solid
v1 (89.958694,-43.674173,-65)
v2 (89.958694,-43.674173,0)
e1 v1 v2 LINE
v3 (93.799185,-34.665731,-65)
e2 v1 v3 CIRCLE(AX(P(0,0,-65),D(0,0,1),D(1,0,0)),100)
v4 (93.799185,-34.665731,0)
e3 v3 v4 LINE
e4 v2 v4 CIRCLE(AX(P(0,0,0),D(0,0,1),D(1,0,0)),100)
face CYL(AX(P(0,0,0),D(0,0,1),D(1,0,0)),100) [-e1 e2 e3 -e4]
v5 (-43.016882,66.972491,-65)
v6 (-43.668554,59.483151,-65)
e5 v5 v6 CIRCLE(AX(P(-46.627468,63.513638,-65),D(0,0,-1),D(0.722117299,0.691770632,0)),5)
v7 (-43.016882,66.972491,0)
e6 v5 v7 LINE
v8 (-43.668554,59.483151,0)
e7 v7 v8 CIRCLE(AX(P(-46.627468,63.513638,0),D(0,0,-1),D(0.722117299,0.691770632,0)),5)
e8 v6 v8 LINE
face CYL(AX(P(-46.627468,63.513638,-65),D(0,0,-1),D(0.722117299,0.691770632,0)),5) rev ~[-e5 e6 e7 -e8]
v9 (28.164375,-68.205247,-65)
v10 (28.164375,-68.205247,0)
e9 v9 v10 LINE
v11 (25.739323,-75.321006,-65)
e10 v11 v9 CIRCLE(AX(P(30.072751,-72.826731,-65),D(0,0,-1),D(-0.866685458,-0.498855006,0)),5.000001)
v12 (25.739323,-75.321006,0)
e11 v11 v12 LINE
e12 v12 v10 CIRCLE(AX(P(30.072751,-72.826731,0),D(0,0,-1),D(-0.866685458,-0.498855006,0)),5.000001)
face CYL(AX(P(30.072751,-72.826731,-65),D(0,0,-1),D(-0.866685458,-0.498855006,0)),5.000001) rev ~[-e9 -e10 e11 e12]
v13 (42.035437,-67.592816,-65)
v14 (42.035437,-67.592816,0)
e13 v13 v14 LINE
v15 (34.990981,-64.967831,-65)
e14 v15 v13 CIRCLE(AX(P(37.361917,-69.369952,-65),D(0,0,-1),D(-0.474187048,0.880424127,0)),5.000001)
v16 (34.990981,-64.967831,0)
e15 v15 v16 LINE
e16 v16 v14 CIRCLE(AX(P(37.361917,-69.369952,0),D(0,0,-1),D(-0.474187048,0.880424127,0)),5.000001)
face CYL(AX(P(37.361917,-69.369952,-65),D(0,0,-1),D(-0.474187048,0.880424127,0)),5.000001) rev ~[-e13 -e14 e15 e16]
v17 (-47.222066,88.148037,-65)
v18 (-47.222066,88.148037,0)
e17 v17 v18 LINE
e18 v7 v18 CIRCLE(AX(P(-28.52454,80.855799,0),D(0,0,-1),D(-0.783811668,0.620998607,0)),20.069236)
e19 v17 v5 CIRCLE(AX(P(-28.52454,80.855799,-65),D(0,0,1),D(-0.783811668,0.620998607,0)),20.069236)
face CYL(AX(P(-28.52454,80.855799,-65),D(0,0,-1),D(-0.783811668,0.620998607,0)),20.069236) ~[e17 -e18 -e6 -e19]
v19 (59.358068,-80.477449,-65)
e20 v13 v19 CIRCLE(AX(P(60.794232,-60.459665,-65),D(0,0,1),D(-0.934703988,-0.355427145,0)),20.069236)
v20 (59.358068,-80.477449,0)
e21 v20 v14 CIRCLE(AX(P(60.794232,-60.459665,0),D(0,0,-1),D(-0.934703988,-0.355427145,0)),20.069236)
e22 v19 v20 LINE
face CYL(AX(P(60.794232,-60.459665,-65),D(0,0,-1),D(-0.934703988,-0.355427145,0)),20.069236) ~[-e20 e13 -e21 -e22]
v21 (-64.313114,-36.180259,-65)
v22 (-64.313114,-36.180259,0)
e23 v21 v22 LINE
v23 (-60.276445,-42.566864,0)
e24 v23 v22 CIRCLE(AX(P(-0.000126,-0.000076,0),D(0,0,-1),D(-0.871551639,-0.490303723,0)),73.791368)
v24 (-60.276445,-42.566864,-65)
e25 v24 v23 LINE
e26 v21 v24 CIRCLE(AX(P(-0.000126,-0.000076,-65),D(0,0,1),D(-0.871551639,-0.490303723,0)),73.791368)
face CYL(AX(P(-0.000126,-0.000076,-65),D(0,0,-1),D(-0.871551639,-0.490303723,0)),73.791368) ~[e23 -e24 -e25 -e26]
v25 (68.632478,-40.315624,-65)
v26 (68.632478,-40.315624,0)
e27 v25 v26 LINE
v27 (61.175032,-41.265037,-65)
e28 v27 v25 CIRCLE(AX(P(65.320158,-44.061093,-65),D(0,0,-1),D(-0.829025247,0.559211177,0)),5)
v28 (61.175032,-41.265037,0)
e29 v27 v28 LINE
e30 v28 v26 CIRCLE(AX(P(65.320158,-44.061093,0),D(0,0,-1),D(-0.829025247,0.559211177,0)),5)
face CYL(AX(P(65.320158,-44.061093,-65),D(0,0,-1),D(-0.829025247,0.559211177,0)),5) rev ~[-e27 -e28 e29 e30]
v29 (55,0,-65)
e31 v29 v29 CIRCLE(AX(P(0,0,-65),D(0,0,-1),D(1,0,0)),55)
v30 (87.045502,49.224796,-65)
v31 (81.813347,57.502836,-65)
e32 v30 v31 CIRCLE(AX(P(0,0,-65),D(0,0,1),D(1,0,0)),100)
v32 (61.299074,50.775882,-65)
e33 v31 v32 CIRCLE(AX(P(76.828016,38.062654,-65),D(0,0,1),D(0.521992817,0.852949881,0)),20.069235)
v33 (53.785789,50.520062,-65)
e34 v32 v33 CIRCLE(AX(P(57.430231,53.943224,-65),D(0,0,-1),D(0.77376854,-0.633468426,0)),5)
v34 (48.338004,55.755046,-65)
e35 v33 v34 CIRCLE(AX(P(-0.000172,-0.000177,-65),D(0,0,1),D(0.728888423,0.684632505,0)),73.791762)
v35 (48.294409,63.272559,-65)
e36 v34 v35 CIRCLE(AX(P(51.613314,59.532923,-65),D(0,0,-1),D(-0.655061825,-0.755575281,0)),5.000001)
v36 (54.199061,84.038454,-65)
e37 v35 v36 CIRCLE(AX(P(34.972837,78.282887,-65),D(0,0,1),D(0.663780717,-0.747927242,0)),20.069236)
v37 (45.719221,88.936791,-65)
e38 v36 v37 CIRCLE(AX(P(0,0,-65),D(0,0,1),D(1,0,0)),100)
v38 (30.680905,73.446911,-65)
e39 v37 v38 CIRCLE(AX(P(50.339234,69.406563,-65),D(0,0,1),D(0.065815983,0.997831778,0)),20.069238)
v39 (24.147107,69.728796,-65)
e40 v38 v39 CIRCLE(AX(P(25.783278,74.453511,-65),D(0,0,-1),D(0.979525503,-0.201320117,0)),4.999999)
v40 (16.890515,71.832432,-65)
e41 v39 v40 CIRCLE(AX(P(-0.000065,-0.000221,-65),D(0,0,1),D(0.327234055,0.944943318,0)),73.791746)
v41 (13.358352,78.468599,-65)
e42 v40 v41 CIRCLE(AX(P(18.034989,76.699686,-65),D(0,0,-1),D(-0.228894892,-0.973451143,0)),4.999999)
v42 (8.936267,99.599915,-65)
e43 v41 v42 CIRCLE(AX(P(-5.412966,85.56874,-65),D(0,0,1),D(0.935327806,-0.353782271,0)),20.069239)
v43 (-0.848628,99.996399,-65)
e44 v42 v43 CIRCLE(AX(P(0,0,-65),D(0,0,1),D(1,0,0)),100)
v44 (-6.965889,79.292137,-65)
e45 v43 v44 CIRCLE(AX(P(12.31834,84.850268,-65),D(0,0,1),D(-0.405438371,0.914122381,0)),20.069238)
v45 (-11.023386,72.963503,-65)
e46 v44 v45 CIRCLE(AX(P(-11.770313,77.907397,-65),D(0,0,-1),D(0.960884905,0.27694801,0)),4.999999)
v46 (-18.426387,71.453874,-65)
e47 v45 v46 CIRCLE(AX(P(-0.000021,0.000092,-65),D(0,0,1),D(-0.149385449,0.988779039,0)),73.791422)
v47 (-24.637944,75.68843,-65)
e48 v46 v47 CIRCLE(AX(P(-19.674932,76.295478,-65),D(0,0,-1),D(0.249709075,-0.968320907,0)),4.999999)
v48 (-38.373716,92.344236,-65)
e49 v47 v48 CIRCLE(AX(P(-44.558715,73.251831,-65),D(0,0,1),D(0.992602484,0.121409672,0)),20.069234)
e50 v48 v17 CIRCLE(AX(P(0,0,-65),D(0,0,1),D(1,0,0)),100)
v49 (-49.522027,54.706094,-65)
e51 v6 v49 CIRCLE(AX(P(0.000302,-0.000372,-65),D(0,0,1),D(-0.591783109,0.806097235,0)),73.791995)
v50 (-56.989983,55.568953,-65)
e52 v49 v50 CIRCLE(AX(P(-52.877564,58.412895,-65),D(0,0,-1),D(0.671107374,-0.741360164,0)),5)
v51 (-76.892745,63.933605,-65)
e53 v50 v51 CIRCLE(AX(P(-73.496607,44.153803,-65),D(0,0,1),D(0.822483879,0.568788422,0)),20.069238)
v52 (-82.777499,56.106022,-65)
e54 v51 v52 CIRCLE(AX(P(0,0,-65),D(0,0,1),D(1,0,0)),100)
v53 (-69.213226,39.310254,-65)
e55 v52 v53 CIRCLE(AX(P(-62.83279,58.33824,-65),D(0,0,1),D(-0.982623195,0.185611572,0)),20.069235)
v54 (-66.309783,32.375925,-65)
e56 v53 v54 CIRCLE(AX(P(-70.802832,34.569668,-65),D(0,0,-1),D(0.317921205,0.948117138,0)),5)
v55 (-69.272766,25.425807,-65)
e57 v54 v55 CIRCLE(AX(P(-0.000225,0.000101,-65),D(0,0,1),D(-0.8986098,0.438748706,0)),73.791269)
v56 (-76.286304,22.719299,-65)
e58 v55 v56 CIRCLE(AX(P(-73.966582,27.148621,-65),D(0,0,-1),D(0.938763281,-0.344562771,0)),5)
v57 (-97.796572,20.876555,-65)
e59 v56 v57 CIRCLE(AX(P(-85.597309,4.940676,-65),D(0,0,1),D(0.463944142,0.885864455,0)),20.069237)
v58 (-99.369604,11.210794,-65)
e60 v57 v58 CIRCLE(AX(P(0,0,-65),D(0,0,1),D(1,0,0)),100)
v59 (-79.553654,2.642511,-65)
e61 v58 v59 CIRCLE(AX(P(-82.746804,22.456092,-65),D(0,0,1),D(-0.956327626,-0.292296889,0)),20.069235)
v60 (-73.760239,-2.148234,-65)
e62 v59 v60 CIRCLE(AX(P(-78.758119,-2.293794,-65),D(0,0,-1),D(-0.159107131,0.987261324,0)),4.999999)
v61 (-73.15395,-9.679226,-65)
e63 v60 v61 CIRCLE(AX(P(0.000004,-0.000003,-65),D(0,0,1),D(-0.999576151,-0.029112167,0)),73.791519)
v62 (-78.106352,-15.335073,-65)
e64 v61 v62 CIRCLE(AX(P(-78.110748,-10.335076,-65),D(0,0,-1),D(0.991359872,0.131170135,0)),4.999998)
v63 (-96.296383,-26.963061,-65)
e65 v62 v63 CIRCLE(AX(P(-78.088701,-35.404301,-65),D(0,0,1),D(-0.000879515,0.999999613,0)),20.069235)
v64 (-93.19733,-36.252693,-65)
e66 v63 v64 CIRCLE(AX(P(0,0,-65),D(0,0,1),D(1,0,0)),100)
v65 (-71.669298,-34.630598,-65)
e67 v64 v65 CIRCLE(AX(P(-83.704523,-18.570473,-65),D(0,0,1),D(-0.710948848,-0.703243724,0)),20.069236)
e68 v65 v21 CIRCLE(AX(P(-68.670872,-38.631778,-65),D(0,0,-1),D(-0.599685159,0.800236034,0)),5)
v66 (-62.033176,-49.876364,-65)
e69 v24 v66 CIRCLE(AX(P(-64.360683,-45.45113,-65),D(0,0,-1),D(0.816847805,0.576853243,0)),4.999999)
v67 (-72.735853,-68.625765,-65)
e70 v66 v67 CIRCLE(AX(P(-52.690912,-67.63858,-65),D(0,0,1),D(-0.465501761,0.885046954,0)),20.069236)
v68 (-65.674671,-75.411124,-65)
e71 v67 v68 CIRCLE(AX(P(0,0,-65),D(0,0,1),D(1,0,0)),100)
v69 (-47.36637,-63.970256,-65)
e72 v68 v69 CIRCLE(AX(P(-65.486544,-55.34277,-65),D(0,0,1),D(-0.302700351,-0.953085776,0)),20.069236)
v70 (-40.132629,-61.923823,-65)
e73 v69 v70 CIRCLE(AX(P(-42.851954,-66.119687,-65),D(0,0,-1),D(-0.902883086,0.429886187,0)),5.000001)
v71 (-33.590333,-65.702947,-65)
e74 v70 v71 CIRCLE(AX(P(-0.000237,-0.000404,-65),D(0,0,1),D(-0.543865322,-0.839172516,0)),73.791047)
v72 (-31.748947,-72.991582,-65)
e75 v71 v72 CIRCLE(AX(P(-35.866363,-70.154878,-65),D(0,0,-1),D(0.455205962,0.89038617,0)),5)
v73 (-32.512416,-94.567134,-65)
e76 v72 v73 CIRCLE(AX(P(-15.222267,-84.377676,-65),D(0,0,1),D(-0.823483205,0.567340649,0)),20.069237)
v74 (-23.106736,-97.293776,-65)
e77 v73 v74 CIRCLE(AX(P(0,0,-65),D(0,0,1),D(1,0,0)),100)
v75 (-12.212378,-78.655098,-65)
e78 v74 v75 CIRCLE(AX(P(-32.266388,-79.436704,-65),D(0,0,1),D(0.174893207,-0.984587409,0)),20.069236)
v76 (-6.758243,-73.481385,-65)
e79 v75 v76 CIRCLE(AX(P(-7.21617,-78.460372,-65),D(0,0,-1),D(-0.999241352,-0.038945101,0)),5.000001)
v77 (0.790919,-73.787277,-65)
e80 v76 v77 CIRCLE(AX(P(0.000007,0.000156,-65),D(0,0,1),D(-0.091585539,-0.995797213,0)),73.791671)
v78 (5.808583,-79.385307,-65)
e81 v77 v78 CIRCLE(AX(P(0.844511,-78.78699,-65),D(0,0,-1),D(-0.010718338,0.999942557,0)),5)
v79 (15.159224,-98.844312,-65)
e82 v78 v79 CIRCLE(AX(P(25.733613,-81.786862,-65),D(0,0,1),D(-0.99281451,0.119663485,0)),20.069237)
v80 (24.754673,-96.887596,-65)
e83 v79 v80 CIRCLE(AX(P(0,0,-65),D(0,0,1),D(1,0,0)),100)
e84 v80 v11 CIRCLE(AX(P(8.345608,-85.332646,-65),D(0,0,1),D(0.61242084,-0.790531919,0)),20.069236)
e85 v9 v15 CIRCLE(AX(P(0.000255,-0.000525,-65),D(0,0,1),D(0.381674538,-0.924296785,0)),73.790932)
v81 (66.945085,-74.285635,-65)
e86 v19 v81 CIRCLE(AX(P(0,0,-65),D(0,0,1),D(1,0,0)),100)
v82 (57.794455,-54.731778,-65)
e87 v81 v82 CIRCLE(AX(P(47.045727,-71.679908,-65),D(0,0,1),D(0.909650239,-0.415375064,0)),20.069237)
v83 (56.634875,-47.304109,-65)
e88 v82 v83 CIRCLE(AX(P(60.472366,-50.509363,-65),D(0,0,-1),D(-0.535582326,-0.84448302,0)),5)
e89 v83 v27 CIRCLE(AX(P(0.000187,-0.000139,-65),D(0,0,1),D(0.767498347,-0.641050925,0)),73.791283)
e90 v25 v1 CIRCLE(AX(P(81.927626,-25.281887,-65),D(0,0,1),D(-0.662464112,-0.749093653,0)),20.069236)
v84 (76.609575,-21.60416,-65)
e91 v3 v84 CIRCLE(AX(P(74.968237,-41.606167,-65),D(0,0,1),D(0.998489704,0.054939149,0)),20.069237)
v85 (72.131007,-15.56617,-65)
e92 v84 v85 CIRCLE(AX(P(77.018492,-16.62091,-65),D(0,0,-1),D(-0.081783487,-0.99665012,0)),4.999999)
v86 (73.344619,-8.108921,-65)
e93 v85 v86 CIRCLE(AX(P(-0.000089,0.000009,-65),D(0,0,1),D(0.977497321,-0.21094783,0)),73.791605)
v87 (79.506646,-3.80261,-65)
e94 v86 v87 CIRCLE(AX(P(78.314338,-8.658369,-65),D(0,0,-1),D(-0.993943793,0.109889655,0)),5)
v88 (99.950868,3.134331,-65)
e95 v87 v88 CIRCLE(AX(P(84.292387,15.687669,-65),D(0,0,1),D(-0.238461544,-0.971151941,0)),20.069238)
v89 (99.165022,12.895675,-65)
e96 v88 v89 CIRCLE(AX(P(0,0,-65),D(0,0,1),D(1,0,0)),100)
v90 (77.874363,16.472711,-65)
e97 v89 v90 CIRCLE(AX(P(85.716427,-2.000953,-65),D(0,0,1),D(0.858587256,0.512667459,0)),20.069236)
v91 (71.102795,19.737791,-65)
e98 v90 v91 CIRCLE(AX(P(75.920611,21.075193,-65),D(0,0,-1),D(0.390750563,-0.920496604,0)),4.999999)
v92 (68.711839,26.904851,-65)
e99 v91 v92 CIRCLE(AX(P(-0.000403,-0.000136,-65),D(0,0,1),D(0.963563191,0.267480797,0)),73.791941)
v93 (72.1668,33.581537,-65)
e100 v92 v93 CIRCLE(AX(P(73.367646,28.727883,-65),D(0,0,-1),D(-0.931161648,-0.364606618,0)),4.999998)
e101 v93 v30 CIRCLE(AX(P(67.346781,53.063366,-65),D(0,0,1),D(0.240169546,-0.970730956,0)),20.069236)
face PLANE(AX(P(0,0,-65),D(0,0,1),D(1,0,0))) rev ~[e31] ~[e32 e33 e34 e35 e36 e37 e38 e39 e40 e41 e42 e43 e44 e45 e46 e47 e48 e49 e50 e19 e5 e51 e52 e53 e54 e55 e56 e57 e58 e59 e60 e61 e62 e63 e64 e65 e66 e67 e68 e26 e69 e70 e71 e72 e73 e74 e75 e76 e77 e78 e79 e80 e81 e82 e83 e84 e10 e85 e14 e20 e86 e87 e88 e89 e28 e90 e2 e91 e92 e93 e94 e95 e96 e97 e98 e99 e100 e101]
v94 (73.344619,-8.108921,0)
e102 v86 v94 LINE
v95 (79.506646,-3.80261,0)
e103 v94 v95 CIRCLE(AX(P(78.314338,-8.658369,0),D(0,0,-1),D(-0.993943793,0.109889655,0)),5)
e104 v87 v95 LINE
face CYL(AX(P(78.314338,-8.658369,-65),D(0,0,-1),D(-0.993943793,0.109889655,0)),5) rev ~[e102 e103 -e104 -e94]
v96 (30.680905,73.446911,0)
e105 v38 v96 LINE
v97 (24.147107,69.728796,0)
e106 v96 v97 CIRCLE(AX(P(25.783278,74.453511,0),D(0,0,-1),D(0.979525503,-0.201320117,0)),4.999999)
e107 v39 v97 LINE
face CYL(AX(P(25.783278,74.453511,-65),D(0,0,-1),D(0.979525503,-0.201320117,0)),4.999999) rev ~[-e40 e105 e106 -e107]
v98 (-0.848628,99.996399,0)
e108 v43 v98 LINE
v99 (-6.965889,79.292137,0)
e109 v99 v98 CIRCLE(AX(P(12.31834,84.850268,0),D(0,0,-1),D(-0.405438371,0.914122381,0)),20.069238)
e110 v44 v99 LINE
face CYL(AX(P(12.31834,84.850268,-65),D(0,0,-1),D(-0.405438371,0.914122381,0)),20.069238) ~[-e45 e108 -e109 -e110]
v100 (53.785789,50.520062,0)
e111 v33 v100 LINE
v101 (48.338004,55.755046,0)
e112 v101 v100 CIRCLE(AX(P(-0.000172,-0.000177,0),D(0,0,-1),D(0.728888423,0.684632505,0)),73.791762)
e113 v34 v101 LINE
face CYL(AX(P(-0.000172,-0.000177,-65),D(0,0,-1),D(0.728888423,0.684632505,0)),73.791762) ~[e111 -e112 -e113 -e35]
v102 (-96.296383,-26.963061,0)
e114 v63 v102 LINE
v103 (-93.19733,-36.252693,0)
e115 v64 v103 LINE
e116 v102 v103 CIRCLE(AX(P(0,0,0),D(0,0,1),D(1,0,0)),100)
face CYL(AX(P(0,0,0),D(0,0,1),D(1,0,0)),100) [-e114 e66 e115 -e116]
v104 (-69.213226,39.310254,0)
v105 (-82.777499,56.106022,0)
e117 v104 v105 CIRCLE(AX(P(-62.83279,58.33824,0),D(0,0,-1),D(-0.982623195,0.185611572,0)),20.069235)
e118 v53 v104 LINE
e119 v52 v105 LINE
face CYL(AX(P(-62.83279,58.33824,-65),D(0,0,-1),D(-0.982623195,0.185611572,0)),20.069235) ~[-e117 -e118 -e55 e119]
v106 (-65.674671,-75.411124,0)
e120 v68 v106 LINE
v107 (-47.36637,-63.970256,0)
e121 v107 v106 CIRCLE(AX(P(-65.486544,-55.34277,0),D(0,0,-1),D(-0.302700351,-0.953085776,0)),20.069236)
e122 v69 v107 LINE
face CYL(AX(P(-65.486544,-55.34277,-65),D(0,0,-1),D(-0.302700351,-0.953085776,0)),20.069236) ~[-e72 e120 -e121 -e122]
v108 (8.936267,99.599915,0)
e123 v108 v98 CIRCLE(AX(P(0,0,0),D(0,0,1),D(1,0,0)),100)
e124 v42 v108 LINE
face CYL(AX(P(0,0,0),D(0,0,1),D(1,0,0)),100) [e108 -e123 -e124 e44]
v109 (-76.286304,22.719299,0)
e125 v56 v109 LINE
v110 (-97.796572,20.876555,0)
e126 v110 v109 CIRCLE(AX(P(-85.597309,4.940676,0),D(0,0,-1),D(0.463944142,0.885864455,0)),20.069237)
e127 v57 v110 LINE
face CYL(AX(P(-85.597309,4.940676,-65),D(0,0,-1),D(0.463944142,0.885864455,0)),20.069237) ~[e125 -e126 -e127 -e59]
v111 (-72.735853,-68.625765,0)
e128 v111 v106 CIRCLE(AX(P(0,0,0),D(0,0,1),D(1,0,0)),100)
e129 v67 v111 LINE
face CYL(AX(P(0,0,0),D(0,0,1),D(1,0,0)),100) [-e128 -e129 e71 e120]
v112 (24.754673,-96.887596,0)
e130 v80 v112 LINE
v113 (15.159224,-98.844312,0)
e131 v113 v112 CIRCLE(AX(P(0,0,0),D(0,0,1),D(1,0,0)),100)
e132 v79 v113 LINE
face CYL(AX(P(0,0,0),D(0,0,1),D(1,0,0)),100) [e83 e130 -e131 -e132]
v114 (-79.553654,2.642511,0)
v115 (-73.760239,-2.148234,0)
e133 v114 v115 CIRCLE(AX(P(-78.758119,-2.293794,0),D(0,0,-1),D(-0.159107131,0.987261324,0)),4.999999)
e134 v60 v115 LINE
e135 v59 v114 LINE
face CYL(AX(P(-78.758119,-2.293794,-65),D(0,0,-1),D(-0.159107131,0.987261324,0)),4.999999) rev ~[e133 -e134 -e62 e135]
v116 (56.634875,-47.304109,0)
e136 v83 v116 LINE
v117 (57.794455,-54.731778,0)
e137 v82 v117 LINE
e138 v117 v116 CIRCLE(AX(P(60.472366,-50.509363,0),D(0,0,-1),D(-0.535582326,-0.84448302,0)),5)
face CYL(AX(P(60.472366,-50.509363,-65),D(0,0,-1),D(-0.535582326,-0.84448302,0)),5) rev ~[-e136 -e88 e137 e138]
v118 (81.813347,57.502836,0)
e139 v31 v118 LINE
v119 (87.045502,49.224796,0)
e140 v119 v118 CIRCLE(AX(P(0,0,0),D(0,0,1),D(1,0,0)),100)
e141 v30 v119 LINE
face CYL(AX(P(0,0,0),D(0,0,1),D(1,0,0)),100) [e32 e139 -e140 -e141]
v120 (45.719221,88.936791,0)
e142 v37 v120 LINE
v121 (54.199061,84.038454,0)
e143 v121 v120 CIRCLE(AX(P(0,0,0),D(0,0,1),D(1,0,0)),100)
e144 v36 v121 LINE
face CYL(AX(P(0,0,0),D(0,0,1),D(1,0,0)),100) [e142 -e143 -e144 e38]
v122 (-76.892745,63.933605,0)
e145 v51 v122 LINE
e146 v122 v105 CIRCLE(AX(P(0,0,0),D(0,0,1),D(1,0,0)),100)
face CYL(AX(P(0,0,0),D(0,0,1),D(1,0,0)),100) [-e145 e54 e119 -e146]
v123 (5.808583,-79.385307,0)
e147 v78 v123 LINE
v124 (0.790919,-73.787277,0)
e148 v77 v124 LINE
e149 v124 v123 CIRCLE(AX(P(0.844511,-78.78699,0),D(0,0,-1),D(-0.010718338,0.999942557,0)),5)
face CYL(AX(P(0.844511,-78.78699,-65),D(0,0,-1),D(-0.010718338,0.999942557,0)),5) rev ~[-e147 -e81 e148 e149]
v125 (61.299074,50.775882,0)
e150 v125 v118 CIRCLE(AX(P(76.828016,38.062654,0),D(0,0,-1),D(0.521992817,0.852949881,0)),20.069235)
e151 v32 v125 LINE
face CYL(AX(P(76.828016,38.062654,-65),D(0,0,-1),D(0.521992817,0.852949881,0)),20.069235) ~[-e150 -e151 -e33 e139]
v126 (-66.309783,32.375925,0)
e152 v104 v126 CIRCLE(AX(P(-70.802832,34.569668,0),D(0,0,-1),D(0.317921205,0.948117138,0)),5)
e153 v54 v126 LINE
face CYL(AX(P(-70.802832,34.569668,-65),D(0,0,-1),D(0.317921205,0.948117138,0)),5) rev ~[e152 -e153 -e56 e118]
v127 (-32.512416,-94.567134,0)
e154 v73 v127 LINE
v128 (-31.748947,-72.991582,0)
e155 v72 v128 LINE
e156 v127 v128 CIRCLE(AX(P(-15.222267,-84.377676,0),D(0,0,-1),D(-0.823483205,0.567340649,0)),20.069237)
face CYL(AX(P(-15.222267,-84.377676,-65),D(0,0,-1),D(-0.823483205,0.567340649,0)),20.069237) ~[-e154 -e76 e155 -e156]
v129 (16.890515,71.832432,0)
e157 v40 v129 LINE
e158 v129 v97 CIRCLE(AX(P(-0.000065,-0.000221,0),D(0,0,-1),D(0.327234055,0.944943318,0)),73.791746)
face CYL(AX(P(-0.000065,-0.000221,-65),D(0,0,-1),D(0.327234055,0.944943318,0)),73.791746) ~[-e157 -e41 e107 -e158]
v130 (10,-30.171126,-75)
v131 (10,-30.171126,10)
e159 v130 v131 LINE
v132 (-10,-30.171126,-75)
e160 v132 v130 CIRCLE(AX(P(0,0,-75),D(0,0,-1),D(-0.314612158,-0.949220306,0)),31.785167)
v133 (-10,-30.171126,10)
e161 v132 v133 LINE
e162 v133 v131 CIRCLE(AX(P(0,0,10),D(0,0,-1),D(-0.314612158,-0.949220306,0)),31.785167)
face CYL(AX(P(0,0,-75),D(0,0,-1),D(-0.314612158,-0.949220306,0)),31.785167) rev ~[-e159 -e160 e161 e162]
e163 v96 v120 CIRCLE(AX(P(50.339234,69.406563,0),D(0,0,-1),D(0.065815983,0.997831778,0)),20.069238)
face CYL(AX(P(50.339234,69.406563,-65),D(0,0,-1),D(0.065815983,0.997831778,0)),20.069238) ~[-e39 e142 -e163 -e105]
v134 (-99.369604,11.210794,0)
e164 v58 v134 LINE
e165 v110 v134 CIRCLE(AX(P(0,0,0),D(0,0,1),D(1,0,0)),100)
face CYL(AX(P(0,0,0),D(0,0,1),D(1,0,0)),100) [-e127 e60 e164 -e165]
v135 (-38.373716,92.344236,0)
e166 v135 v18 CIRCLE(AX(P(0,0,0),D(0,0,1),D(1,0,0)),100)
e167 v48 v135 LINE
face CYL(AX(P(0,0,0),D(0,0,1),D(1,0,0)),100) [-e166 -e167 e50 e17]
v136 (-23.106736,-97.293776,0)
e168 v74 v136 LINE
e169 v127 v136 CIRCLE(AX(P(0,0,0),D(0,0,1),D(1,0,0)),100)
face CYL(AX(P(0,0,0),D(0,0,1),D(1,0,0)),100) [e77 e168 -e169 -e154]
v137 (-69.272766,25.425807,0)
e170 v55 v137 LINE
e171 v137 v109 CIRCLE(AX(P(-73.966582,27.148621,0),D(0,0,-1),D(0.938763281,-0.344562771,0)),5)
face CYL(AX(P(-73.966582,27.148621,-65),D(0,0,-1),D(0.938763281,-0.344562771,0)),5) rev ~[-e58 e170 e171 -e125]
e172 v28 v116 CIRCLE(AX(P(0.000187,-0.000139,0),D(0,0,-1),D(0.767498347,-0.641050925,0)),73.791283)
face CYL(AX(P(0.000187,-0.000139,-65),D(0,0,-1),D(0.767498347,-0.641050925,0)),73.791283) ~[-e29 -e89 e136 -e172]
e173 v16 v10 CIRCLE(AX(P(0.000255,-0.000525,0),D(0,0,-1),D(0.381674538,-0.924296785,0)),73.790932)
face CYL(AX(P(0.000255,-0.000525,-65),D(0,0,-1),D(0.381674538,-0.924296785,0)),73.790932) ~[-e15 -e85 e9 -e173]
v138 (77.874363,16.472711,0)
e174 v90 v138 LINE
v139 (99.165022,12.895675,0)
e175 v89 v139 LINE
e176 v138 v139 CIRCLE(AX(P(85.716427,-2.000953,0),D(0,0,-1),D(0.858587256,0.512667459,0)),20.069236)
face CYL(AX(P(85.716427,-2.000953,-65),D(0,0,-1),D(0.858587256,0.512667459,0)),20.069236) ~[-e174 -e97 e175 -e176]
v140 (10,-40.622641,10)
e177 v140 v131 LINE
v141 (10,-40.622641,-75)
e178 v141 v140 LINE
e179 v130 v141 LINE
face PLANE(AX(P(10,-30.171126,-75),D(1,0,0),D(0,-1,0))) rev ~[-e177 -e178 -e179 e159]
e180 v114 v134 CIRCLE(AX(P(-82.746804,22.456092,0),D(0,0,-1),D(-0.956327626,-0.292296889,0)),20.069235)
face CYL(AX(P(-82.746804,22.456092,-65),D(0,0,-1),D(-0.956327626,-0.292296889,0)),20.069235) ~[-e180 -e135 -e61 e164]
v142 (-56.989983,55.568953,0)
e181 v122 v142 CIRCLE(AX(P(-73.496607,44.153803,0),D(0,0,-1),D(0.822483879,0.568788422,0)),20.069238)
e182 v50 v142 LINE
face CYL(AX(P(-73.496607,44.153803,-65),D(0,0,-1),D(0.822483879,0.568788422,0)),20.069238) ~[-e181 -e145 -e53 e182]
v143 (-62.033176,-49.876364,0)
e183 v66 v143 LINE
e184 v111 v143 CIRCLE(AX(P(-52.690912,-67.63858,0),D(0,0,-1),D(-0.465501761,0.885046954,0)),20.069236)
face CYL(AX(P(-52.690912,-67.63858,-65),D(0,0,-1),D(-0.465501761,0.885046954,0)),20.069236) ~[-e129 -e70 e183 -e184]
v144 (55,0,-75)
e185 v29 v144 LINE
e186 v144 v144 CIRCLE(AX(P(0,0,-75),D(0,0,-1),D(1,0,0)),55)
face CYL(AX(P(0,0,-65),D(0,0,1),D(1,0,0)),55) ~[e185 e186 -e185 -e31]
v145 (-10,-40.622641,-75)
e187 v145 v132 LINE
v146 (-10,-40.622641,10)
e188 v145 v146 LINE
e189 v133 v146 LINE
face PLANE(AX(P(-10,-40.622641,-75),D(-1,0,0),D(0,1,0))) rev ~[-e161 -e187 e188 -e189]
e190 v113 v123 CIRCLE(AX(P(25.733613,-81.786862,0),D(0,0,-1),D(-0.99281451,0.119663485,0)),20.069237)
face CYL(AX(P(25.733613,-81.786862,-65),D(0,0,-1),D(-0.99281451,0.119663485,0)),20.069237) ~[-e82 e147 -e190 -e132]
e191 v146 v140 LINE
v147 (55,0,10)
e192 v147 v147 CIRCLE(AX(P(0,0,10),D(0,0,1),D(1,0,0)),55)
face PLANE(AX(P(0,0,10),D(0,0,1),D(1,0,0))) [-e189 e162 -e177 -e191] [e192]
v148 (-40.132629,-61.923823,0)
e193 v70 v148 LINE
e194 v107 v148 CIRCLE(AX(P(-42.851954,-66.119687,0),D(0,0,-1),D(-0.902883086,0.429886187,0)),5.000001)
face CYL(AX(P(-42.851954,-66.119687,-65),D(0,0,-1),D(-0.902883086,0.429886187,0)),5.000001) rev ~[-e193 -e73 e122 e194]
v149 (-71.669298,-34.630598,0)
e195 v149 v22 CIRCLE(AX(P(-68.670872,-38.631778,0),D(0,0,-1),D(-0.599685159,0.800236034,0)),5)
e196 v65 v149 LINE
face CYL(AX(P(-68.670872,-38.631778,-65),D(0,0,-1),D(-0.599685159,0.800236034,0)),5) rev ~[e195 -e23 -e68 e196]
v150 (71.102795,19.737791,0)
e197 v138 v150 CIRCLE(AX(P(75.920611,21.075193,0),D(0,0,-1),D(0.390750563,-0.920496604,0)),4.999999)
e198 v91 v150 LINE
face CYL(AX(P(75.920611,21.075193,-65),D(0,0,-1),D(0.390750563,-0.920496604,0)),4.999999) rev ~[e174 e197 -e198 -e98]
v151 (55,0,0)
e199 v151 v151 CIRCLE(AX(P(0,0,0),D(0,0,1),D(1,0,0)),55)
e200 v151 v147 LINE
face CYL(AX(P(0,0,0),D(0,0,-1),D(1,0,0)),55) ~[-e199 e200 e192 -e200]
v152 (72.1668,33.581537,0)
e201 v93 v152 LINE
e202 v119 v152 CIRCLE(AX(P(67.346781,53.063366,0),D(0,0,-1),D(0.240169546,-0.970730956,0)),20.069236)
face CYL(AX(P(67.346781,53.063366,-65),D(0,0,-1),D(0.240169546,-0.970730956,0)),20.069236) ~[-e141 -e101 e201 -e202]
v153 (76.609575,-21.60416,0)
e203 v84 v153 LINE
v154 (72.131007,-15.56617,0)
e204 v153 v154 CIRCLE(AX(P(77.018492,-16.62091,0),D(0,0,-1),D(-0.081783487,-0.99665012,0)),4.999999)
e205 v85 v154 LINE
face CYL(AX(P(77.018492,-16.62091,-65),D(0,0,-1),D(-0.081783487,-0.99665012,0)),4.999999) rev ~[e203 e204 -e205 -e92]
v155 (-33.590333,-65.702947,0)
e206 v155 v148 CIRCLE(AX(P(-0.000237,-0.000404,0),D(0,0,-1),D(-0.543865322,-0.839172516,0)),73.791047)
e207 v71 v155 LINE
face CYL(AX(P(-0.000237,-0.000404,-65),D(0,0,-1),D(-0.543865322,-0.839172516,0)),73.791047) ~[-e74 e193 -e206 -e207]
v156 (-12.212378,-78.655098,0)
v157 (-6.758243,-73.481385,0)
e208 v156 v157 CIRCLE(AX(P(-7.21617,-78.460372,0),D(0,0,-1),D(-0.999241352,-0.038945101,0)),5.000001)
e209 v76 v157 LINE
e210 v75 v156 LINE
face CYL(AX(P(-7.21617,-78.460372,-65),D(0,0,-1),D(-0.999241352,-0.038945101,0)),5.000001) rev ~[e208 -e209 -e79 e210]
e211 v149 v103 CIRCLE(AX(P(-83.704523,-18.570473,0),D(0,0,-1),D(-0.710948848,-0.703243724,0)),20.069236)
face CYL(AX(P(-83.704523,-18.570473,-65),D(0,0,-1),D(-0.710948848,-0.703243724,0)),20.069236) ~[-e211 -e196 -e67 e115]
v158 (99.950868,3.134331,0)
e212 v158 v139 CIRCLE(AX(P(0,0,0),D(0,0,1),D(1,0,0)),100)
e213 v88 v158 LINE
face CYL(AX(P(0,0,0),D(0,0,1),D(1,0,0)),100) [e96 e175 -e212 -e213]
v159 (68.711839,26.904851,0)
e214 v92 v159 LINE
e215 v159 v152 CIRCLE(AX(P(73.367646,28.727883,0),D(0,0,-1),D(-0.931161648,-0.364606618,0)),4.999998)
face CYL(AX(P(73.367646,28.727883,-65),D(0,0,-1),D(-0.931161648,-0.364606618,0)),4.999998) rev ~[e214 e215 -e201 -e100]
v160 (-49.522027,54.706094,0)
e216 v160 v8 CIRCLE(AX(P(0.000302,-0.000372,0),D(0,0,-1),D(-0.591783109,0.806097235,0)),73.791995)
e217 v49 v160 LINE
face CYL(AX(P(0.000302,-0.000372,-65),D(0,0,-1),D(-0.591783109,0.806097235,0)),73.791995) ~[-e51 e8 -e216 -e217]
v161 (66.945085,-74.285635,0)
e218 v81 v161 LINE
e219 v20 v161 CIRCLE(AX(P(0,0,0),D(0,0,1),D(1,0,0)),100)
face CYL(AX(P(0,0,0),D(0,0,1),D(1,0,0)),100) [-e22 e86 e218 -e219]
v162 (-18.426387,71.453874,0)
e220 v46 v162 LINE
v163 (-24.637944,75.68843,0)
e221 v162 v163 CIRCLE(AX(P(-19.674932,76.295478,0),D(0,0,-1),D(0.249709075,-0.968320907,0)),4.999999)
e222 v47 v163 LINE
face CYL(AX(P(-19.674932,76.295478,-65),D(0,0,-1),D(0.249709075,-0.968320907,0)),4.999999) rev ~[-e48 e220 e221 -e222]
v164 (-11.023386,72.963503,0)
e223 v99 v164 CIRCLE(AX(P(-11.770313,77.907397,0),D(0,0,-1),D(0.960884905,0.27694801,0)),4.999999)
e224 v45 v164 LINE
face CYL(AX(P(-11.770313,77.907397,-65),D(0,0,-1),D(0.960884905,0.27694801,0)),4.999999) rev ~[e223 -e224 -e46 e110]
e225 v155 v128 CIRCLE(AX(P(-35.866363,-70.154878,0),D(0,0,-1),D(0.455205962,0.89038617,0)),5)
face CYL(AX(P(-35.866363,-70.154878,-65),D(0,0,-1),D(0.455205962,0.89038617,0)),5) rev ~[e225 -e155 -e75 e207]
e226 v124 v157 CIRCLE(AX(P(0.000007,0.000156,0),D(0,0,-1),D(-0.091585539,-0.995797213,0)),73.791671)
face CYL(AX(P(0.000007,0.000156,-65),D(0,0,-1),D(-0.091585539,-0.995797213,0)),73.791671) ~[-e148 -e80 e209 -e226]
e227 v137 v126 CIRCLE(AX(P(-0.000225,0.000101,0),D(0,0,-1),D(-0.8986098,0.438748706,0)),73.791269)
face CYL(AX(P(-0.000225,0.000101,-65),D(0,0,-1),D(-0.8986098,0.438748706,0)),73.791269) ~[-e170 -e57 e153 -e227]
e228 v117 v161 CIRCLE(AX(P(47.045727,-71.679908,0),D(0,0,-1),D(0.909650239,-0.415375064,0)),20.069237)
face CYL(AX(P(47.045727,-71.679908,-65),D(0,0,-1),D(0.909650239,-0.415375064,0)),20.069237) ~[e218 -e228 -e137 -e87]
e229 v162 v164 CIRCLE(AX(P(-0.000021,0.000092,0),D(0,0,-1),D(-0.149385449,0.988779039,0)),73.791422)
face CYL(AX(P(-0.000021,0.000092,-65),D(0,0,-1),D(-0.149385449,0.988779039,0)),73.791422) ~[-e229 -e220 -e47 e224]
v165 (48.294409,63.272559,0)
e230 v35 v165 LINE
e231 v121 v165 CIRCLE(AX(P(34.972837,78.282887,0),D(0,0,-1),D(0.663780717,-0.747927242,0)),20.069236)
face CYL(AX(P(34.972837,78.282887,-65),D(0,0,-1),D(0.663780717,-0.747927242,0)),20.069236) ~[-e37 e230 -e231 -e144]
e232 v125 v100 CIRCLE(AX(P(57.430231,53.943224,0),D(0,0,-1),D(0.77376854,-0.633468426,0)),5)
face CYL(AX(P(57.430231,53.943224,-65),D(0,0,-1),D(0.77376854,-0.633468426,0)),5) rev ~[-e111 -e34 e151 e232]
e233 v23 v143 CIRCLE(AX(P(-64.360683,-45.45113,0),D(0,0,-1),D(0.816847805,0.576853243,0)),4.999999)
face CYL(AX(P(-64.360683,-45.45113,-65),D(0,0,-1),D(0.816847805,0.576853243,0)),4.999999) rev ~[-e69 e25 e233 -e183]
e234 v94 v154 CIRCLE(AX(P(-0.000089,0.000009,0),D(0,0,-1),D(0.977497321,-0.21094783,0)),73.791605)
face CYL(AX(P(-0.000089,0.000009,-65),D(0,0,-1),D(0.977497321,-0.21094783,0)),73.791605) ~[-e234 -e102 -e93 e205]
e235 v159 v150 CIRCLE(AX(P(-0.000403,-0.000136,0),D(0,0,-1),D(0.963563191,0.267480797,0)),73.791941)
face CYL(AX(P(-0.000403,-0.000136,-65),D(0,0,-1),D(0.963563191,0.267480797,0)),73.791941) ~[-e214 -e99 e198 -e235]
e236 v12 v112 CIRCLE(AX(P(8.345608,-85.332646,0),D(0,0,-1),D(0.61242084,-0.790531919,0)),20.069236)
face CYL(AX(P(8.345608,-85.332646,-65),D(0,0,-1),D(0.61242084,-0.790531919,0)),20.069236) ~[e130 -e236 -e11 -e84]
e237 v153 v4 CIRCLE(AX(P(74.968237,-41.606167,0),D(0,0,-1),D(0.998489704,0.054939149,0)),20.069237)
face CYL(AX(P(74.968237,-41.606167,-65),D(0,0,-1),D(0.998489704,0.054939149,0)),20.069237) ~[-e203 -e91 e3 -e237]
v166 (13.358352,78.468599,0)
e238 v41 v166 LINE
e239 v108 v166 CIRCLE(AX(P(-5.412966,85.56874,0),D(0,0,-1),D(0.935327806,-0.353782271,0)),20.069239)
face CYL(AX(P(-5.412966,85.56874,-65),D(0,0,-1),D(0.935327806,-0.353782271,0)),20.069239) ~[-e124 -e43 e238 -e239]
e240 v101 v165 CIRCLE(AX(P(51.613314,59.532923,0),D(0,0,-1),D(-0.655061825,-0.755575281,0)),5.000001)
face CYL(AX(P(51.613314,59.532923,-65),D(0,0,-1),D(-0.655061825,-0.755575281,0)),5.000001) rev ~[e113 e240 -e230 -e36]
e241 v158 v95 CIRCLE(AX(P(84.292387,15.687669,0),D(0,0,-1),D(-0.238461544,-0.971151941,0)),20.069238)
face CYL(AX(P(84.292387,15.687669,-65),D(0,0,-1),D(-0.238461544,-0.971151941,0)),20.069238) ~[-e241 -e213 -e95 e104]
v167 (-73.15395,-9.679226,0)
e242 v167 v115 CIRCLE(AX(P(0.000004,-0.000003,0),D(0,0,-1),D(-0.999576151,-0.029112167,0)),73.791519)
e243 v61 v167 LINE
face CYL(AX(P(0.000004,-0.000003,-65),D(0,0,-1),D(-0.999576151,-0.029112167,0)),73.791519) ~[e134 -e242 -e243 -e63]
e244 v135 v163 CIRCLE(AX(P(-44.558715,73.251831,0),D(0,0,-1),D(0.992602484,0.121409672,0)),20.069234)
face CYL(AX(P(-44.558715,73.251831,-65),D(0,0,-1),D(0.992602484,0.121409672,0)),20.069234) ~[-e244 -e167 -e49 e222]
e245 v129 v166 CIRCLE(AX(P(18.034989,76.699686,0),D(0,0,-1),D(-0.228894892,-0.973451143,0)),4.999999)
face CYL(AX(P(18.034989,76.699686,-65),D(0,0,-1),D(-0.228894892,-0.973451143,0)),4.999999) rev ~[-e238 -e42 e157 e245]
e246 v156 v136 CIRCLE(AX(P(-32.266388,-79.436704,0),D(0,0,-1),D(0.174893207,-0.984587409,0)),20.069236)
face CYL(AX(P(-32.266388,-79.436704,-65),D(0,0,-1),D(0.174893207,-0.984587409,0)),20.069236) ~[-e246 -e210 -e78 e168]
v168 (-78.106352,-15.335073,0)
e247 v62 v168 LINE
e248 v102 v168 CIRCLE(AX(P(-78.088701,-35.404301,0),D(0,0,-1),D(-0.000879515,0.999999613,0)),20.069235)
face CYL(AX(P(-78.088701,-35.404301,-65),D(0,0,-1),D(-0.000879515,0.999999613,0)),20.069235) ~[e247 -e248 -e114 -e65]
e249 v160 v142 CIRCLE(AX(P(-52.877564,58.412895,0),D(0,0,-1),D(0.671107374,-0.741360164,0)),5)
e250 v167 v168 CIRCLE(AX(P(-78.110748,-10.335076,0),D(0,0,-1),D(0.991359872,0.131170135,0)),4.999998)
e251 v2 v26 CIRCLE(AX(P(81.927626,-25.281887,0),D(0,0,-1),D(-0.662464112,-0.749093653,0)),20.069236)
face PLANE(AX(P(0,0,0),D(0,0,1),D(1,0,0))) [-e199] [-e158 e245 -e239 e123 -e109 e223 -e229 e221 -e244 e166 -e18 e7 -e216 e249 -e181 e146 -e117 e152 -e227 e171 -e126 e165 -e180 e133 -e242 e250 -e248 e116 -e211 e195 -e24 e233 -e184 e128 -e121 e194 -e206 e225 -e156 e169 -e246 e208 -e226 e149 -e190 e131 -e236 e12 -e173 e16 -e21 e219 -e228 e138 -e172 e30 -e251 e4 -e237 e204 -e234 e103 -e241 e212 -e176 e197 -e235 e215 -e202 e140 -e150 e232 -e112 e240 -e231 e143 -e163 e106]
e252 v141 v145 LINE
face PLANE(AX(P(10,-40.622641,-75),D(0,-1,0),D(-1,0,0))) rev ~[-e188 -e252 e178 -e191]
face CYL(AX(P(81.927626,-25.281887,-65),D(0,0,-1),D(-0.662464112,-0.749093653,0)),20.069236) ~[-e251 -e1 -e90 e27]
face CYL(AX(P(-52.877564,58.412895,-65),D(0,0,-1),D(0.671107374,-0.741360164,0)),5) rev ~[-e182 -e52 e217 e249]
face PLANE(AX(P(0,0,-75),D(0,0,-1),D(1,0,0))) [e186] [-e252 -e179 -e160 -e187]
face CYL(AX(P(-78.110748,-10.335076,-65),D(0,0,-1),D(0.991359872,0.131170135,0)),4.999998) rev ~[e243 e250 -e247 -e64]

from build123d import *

# Parameters (mm, degrees)
F0_R     = 100
F1_DEPTH = 65
F2_R     = 55
F3_DEPTH = 10
F4_R     = 55
F5_DEPTH = 10
F7_DEPTH = 100
F9_DEPTH = 100


with BuildPart() as f1:
    # F0 (on Top) → F1 (new body)
    with BuildSketch(Plane.XY):
        Circle(F0_R)
    extrude(amount=-F1_DEPTH)

    # F2 (on face) → F3 (join)
    with BuildSketch(Plane.XY):
        Circle(F2_R)
    extrude(amount=F3_DEPTH)

    # F4 (on face) → F5 (join)
    with BuildSketch(Plane(origin=(0, 0, -65), x_dir=(1, 0, 0), z_dir=(0, 0, -1))):
        Circle(F4_R)
    extrude(amount=F5_DEPTH)

    # F6 (on face) → F7 (cut)
    with BuildSketch(Plane(origin=(0, 0, -75), x_dir=(1, 0, 0), z_dir=(0, 0, -1))):
        with BuildLine():
            Line((-10, 40.622641), (-10, 30.171126))
            ThreePointArc((-10, 30.171126), (0, -31.785167), (10, 30.171126))
            Line((10, 30.171126), (10, 40.622641))
            Line((10, 40.622641), (-10, 40.622641))
        make_face()
    extrude(amount=-F7_DEPTH, mode=Mode.SUBTRACT)

    # F8 (on face) → F9 (cut)
    with BuildSketch(Plane(origin=(0, 0, -65), x_dir=(1, 0, 0), z_dir=(0, 0, -1))):
        with BuildLine():
            ThreePointArc((-97.972724, 32.684038), (-98.378572, 32.261585), (-98.771916, 31.827468))
            ThreePointArc((-98.771916, 31.827468), (-103.438549, 8.327414), (-102.591438, -15.616529))
            ThreePointArc((-102.591438, -15.616529), (-102.272607, -16.10798), (-101.939568, -16.589917))
            ThreePointArc((-101.939568, -16.589917), (-93.359506, -5.422456), (-79.553654, -2.642511))
            ThreePointArc((-79.553654, -2.642511), (-75.571783, -1.559419), (-73.760239, 2.148234))
            ThreePointArc((-73.760239, 2.148234), (-73.553543, 5.921495), (-73.15395, 9.679226))
            ThreePointArc((-73.15395, 9.679226), (-74.349031, 13.62893), (-78.106352, 15.335073))
            ThreePointArc((-78.106352, 15.335073), (-91.289678, 20.287806), (-97.972724, 32.684038))
        make_face()
        with BuildLine():
            ThreePointArc((-71.561509, 74.470473), (-72.117193, 74.285017), (-72.667226, 74.083422))
            ThreePointArc((-72.667226, 74.083422), (-87.720344, 55.44385), (-98.09757, 33.848869))
            ThreePointArc((-98.09757, 33.848869), (-98.043648, 33.265542), (-97.972724, 32.684038))
            ThreePointArc((-97.972724, 32.684038), (-85.185678, 38.584979), (-71.669298, 34.630598))
            ThreePointArc((-71.669298, 34.630598), (-67.640189, 33.739162), (-64.313114, 36.180259))
            ThreePointArc((-64.313114, 36.180259), (-62.376572, 39.425259), (-60.276445, 42.566864))
            ThreePointArc((-60.276445, 42.566864), (-59.499118, 46.619536), (-62.033176, 49.876364))
            ThreePointArc((-62.033176, 49.876364), (-71.404782, 60.388389), (-71.561509, 74.470473))
        make_face()
        with BuildLine():
            ThreePointArc((-101.939568, -16.589917), (-102.102605, -17.152587), (-102.24915, -17.719775))
            ThreePointArc((-102.24915, -17.719775), (-95.460229, -40.696731), (-83.582844, -61.504368))
            ThreePointArc((-83.582844, -61.504368), (-83.072145, -61.791359), (-82.553286, -62.063322))
            ThreePointArc((-82.553286, -62.063322), (-80.145796, -48.187672), (-69.213226, -39.310254))
            ThreePointArc((-69.213226, -39.310254), (-66.190793, -36.500755), (-66.309783, -32.375925))
            ThreePointArc((-66.309783, -32.375925), (-67.880284, -28.938813), (-69.272766, -25.425807))
            ThreePointArc((-69.272766, -25.425807), (-72.166477, -22.4839), (-76.286304, -22.719299))
            ThreePointArc((-76.286304, -22.719299), (-90.261209, -24.460468), (-101.939568, -16.589917))
        make_face()
        with BuildLine():
            ThreePointArc((-31.748947, 72.991582), (-35.16191, 86.65472), (-28.756415, 99.196621))
            ThreePointArc((-28.756415, 99.196621), (-29.334634, 99.290647), (-29.915351, 99.367756))
            ThreePointArc((-29.915351, 99.367756), (-51.906465, 89.858767), (-71.130731, 75.559899))
            ThreePointArc((-71.130731, 75.559899), (-71.354071, 75.01833), (-71.561509, 74.470473))
            ThreePointArc((-71.561509, 74.470473), (-57.496838, 73.753061), (-47.36637, 63.970256))
            ThreePointArc((-47.36637, 63.970256), (-44.213042, 61.308508), (-40.132629, 61.923823))
            ThreePointArc((-40.132629, 61.923823), (-36.90988, 63.897172), (-33.590333, 65.702947))
            ThreePointArc((-33.590333, 65.702947), (-31.018674, 68.930168), (-31.748947, 72.991582))
        make_face()
        with BuildLine():
            ThreePointArc((-6.758243, 73.481385), (-2.98758, 73.731012), (0.790919, 73.787277))
            ThreePointArc((0.790919, 73.787277), (4.567774, 75.449729), (5.808583, 79.385307))
            ThreePointArc((5.808583, 79.385307), (9.136131, 93.069498), (20.636427, 101.198018))
            ThreePointArc((20.636427, 101.198018), (20.168136, 101.549985), (19.689771, 101.888135))
            ThreePointArc((19.689771, 101.888135), (-4.201441, 103.688124), (-27.868698, 99.961067))
            ThreePointArc((-27.868698, 99.961067), (-28.318136, 99.585322), (-28.756415, 99.196621))
            ThreePointArc((-28.756415, 99.196621), (-16.636165, 92.025205), (-12.212378, 78.655098))
            ThreePointArc((-12.212378, 78.655098), (-10.65722, 74.832813), (-6.758243, 73.481385))
        make_face()
        with BuildLine():
            ThreePointArc((103.518596, -7.264953), (102.425693, 16.66903), (95.873038, 39.714479))
            ThreePointArc((95.873038, 39.714479), (95.445859, 40.115349), (95.007163, 40.50358))
            ThreePointArc((95.007163, 40.50358), (89.34897, 27.607282), (76.609575, 21.60416))
            ThreePointArc((76.609575, 21.60416), (73.002611, 19.599616), (72.131007, 15.56617))
            ThreePointArc((72.131007, 15.56617), (72.833317, 11.853088), (73.344619, 8.108921))
            ThreePointArc((73.344619, 8.108921), (75.4502, 4.55999), (79.506646, 3.80261))
            ThreePointArc((79.506646, 3.80261), (93.492156, 2.14877), (102.947617, -8.287891))
            ThreePointArc((102.947617, -8.287891), (103.240572, -7.780589), (103.518596, -7.264953))
        make_face()
        with BuildLine():
            ThreePointArc((95.037356, 41.674694), (82.946962, 62.359286), (66.43512, 79.719847))
            ThreePointArc((66.43512, 79.719847), (65.870579, 79.87628), (65.301713, 80.016169))
            ThreePointArc((65.301713, 80.016169), (66.28484, 65.967571), (57.794455, 54.731778))
            ThreePointArc((57.794455, 54.731778), (55.532206, 51.280603), (56.634875, 47.304109))
            ThreePointArc((56.634875, 47.304109), (58.982295, 44.342719), (61.175032, 41.265037))
            ThreePointArc((61.175032, 41.265037), (64.688701, 39.101127), (68.632478, 40.315624))
            ThreePointArc((68.632478, 40.315624), (81.784609, 45.350613), (95.007163, 40.50358))
            ThreePointArc((95.007163, 40.50358), (95.030807, 41.088916), (95.037356, 41.674694))
        make_face()
        with BuildLine():
            ThreePointArc((5.265805, -103.639522), (28.893547, -99.669665), (50.981133, -90.386964))
            ThreePointArc((50.981133, -90.386964), (51.32759, -89.91458), (51.660111, -89.432287))
            ThreePointArc((51.660111, -89.432287), (38.175822, -85.369825), (30.680905, -73.446911))
            ThreePointArc((30.680905, -73.446911), (28.256205, -70.107867), (24.147107, -69.728796))
            ThreePointArc((24.147107, -69.728796), (20.545752, -70.873548), (16.890515, -71.832432))
            ThreePointArc((16.890515, -71.832432), (13.621259, -74.350437), (13.358352, -78.468599))
            ThreePointArc((13.358352, -78.468599), (13.402337, -92.551487), (4.181501, -103.196008))
            ThreePointArc((4.181501, -103.196008), (4.720416, -103.425678), (5.265805, -103.639522))
        make_face()
        with BuildLine():
            ThreePointArc((52.826326, -89.321098), (71.902768, -74.825604), (87.146468, -56.341568))
            ThreePointArc((87.146468, -56.341568), (87.233713, -55.762287), (87.304013, -55.180706))
            ThreePointArc((87.304013, -55.180706), (73.476347, -57.850037), (61.299074, -50.775882))
            ThreePointArc((61.299074, -50.775882), (57.600378, -48.94612), (53.785789, -50.520062))
            ThreePointArc((53.785789, -50.520062), (51.12894, -53.207323), (48.338004, -55.755046))
            ThreePointArc((48.338004, -55.755046), (46.613397, -59.503928), (48.294409, -63.272559))
            ThreePointArc((48.294409, -63.272559), (54.878001, -75.721895), (51.660111, -89.432287))
            ThreePointArc((51.660111, -89.432287), (52.24403, -89.385203), (52.826326, -89.321098))
        make_face()
        with BuildLine():
            ThreePointArc((88.284972, -54.540287), (98.439932, -32.8399), (103.347597, -9.388997))
            ThreePointArc((103.347597, -9.388997), (103.155643, -8.835525), (102.947617, -8.287891))
            ThreePointArc((102.947617, -8.287891), (91.944327, -17.077503), (77.874363, -16.472711))
            ThreePointArc((77.874363, -16.472711), (73.748998, -16.571407), (71.102795, -19.737791))
            ThreePointArc((71.102795, -19.737791), (69.999104, -23.351942), (68.711839, -26.904851))
            ThreePointArc((68.711839, -26.904851), (68.926967, -31.025786), (72.1668, -33.581537))
            ThreePointArc((72.1668, -33.581537), (83.781776, -41.545329), (87.304013, -55.180706))
            ThreePointArc((87.304013, -55.180706), (87.799166, -54.867656), (88.284972, -54.540287))
        make_face()
        with BuildLine():
            ThreePointArc((-44.255041, -93.318767), (-43.884589, -93.772577), (-43.501049, -94.21538))
            ThreePointArc((-43.501049, -94.21538), (-20.734837, -101.680606), (3.136635, -103.725796))
            ThreePointArc((3.136635, -103.725796), (3.662934, -103.468527), (4.181501, -103.196008))
            ThreePointArc((4.181501, -103.196008), (-5.870324, -93.332415), (-6.965889, -79.292137))
            ThreePointArc((-6.965889, -79.292137), (-7.561123, -75.208747), (-11.023386, -72.963503))
            ThreePointArc((-11.023386, -72.963503), (-14.74422, -72.303498), (-18.426387, -71.453874))
            ThreePointArc((-18.426387, -71.453874), (-22.491345, -72.164157), (-24.637944, -75.68843))
            ThreePointArc((-24.637944, -75.68843), (-31.14364, -88.178649), (-44.255041, -93.318767))
        make_face()
        with BuildLine():
            ThreePointArc((-82.553286, -62.063322), (-82.436163, -62.637308), (-82.302336, -63.207631))
            ThreePointArc((-82.302336, -63.207631), (-65.61312, -80.397746), (-45.426428, -93.302298))
            ThreePointArc((-45.426428, -93.302298), (-44.840855, -93.319082), (-44.255041, -93.318767))
            ThreePointArc((-44.255041, -93.318767), (-48.57165, -79.913673), (-43.016882, -66.972491))
            ThreePointArc((-43.016882, -66.972491), (-41.64629, -63.080209), (-43.668554, -59.483151))
            ThreePointArc((-43.668554, -59.483151), (-46.656469, -57.169587), (-49.522027, -54.706094))
            ThreePointArc((-49.522027, -54.706094), (-53.451453, -53.445939), (-56.989983, -55.568953))
            ThreePointArc((-56.989983, -55.568953), (-68.554985, -63.605144), (-82.553286, -62.063322))
        make_face()
        with BuildLine():
            ThreePointArc((21.777717, 101.462359), (21.205143, 101.338518), (20.636427, 101.198018))
            ThreePointArc((20.636427, 101.198018), (28.035652, 89.215484), (25.739323, 75.321006))
            ThreePointArc((25.739323, 75.321006), (25.340042, 71.213822), (28.164375, 68.205247))
            ThreePointArc((28.164375, 68.205247), (31.61914, 66.673967), (34.990981, 64.967831))
            ThreePointArc((34.990981, 64.967831), (39.1078, 64.684667), (42.035437, 67.592816))
            ThreePointArc((42.035437, 67.592816), (51.341194, 78.163176), (65.301713, 80.016169))
            ThreePointArc((65.301713, 80.016169), (65.050629, 80.545446), (64.784204, 81.06717))
            ThreePointArc((64.784204, 81.06717), (44.466082, 93.763781), (21.777717, 101.462359))
        make_face()
    extrude(amount=-F9_DEPTH, mode=Mode.SUBTRACT)


solid = f1.part
